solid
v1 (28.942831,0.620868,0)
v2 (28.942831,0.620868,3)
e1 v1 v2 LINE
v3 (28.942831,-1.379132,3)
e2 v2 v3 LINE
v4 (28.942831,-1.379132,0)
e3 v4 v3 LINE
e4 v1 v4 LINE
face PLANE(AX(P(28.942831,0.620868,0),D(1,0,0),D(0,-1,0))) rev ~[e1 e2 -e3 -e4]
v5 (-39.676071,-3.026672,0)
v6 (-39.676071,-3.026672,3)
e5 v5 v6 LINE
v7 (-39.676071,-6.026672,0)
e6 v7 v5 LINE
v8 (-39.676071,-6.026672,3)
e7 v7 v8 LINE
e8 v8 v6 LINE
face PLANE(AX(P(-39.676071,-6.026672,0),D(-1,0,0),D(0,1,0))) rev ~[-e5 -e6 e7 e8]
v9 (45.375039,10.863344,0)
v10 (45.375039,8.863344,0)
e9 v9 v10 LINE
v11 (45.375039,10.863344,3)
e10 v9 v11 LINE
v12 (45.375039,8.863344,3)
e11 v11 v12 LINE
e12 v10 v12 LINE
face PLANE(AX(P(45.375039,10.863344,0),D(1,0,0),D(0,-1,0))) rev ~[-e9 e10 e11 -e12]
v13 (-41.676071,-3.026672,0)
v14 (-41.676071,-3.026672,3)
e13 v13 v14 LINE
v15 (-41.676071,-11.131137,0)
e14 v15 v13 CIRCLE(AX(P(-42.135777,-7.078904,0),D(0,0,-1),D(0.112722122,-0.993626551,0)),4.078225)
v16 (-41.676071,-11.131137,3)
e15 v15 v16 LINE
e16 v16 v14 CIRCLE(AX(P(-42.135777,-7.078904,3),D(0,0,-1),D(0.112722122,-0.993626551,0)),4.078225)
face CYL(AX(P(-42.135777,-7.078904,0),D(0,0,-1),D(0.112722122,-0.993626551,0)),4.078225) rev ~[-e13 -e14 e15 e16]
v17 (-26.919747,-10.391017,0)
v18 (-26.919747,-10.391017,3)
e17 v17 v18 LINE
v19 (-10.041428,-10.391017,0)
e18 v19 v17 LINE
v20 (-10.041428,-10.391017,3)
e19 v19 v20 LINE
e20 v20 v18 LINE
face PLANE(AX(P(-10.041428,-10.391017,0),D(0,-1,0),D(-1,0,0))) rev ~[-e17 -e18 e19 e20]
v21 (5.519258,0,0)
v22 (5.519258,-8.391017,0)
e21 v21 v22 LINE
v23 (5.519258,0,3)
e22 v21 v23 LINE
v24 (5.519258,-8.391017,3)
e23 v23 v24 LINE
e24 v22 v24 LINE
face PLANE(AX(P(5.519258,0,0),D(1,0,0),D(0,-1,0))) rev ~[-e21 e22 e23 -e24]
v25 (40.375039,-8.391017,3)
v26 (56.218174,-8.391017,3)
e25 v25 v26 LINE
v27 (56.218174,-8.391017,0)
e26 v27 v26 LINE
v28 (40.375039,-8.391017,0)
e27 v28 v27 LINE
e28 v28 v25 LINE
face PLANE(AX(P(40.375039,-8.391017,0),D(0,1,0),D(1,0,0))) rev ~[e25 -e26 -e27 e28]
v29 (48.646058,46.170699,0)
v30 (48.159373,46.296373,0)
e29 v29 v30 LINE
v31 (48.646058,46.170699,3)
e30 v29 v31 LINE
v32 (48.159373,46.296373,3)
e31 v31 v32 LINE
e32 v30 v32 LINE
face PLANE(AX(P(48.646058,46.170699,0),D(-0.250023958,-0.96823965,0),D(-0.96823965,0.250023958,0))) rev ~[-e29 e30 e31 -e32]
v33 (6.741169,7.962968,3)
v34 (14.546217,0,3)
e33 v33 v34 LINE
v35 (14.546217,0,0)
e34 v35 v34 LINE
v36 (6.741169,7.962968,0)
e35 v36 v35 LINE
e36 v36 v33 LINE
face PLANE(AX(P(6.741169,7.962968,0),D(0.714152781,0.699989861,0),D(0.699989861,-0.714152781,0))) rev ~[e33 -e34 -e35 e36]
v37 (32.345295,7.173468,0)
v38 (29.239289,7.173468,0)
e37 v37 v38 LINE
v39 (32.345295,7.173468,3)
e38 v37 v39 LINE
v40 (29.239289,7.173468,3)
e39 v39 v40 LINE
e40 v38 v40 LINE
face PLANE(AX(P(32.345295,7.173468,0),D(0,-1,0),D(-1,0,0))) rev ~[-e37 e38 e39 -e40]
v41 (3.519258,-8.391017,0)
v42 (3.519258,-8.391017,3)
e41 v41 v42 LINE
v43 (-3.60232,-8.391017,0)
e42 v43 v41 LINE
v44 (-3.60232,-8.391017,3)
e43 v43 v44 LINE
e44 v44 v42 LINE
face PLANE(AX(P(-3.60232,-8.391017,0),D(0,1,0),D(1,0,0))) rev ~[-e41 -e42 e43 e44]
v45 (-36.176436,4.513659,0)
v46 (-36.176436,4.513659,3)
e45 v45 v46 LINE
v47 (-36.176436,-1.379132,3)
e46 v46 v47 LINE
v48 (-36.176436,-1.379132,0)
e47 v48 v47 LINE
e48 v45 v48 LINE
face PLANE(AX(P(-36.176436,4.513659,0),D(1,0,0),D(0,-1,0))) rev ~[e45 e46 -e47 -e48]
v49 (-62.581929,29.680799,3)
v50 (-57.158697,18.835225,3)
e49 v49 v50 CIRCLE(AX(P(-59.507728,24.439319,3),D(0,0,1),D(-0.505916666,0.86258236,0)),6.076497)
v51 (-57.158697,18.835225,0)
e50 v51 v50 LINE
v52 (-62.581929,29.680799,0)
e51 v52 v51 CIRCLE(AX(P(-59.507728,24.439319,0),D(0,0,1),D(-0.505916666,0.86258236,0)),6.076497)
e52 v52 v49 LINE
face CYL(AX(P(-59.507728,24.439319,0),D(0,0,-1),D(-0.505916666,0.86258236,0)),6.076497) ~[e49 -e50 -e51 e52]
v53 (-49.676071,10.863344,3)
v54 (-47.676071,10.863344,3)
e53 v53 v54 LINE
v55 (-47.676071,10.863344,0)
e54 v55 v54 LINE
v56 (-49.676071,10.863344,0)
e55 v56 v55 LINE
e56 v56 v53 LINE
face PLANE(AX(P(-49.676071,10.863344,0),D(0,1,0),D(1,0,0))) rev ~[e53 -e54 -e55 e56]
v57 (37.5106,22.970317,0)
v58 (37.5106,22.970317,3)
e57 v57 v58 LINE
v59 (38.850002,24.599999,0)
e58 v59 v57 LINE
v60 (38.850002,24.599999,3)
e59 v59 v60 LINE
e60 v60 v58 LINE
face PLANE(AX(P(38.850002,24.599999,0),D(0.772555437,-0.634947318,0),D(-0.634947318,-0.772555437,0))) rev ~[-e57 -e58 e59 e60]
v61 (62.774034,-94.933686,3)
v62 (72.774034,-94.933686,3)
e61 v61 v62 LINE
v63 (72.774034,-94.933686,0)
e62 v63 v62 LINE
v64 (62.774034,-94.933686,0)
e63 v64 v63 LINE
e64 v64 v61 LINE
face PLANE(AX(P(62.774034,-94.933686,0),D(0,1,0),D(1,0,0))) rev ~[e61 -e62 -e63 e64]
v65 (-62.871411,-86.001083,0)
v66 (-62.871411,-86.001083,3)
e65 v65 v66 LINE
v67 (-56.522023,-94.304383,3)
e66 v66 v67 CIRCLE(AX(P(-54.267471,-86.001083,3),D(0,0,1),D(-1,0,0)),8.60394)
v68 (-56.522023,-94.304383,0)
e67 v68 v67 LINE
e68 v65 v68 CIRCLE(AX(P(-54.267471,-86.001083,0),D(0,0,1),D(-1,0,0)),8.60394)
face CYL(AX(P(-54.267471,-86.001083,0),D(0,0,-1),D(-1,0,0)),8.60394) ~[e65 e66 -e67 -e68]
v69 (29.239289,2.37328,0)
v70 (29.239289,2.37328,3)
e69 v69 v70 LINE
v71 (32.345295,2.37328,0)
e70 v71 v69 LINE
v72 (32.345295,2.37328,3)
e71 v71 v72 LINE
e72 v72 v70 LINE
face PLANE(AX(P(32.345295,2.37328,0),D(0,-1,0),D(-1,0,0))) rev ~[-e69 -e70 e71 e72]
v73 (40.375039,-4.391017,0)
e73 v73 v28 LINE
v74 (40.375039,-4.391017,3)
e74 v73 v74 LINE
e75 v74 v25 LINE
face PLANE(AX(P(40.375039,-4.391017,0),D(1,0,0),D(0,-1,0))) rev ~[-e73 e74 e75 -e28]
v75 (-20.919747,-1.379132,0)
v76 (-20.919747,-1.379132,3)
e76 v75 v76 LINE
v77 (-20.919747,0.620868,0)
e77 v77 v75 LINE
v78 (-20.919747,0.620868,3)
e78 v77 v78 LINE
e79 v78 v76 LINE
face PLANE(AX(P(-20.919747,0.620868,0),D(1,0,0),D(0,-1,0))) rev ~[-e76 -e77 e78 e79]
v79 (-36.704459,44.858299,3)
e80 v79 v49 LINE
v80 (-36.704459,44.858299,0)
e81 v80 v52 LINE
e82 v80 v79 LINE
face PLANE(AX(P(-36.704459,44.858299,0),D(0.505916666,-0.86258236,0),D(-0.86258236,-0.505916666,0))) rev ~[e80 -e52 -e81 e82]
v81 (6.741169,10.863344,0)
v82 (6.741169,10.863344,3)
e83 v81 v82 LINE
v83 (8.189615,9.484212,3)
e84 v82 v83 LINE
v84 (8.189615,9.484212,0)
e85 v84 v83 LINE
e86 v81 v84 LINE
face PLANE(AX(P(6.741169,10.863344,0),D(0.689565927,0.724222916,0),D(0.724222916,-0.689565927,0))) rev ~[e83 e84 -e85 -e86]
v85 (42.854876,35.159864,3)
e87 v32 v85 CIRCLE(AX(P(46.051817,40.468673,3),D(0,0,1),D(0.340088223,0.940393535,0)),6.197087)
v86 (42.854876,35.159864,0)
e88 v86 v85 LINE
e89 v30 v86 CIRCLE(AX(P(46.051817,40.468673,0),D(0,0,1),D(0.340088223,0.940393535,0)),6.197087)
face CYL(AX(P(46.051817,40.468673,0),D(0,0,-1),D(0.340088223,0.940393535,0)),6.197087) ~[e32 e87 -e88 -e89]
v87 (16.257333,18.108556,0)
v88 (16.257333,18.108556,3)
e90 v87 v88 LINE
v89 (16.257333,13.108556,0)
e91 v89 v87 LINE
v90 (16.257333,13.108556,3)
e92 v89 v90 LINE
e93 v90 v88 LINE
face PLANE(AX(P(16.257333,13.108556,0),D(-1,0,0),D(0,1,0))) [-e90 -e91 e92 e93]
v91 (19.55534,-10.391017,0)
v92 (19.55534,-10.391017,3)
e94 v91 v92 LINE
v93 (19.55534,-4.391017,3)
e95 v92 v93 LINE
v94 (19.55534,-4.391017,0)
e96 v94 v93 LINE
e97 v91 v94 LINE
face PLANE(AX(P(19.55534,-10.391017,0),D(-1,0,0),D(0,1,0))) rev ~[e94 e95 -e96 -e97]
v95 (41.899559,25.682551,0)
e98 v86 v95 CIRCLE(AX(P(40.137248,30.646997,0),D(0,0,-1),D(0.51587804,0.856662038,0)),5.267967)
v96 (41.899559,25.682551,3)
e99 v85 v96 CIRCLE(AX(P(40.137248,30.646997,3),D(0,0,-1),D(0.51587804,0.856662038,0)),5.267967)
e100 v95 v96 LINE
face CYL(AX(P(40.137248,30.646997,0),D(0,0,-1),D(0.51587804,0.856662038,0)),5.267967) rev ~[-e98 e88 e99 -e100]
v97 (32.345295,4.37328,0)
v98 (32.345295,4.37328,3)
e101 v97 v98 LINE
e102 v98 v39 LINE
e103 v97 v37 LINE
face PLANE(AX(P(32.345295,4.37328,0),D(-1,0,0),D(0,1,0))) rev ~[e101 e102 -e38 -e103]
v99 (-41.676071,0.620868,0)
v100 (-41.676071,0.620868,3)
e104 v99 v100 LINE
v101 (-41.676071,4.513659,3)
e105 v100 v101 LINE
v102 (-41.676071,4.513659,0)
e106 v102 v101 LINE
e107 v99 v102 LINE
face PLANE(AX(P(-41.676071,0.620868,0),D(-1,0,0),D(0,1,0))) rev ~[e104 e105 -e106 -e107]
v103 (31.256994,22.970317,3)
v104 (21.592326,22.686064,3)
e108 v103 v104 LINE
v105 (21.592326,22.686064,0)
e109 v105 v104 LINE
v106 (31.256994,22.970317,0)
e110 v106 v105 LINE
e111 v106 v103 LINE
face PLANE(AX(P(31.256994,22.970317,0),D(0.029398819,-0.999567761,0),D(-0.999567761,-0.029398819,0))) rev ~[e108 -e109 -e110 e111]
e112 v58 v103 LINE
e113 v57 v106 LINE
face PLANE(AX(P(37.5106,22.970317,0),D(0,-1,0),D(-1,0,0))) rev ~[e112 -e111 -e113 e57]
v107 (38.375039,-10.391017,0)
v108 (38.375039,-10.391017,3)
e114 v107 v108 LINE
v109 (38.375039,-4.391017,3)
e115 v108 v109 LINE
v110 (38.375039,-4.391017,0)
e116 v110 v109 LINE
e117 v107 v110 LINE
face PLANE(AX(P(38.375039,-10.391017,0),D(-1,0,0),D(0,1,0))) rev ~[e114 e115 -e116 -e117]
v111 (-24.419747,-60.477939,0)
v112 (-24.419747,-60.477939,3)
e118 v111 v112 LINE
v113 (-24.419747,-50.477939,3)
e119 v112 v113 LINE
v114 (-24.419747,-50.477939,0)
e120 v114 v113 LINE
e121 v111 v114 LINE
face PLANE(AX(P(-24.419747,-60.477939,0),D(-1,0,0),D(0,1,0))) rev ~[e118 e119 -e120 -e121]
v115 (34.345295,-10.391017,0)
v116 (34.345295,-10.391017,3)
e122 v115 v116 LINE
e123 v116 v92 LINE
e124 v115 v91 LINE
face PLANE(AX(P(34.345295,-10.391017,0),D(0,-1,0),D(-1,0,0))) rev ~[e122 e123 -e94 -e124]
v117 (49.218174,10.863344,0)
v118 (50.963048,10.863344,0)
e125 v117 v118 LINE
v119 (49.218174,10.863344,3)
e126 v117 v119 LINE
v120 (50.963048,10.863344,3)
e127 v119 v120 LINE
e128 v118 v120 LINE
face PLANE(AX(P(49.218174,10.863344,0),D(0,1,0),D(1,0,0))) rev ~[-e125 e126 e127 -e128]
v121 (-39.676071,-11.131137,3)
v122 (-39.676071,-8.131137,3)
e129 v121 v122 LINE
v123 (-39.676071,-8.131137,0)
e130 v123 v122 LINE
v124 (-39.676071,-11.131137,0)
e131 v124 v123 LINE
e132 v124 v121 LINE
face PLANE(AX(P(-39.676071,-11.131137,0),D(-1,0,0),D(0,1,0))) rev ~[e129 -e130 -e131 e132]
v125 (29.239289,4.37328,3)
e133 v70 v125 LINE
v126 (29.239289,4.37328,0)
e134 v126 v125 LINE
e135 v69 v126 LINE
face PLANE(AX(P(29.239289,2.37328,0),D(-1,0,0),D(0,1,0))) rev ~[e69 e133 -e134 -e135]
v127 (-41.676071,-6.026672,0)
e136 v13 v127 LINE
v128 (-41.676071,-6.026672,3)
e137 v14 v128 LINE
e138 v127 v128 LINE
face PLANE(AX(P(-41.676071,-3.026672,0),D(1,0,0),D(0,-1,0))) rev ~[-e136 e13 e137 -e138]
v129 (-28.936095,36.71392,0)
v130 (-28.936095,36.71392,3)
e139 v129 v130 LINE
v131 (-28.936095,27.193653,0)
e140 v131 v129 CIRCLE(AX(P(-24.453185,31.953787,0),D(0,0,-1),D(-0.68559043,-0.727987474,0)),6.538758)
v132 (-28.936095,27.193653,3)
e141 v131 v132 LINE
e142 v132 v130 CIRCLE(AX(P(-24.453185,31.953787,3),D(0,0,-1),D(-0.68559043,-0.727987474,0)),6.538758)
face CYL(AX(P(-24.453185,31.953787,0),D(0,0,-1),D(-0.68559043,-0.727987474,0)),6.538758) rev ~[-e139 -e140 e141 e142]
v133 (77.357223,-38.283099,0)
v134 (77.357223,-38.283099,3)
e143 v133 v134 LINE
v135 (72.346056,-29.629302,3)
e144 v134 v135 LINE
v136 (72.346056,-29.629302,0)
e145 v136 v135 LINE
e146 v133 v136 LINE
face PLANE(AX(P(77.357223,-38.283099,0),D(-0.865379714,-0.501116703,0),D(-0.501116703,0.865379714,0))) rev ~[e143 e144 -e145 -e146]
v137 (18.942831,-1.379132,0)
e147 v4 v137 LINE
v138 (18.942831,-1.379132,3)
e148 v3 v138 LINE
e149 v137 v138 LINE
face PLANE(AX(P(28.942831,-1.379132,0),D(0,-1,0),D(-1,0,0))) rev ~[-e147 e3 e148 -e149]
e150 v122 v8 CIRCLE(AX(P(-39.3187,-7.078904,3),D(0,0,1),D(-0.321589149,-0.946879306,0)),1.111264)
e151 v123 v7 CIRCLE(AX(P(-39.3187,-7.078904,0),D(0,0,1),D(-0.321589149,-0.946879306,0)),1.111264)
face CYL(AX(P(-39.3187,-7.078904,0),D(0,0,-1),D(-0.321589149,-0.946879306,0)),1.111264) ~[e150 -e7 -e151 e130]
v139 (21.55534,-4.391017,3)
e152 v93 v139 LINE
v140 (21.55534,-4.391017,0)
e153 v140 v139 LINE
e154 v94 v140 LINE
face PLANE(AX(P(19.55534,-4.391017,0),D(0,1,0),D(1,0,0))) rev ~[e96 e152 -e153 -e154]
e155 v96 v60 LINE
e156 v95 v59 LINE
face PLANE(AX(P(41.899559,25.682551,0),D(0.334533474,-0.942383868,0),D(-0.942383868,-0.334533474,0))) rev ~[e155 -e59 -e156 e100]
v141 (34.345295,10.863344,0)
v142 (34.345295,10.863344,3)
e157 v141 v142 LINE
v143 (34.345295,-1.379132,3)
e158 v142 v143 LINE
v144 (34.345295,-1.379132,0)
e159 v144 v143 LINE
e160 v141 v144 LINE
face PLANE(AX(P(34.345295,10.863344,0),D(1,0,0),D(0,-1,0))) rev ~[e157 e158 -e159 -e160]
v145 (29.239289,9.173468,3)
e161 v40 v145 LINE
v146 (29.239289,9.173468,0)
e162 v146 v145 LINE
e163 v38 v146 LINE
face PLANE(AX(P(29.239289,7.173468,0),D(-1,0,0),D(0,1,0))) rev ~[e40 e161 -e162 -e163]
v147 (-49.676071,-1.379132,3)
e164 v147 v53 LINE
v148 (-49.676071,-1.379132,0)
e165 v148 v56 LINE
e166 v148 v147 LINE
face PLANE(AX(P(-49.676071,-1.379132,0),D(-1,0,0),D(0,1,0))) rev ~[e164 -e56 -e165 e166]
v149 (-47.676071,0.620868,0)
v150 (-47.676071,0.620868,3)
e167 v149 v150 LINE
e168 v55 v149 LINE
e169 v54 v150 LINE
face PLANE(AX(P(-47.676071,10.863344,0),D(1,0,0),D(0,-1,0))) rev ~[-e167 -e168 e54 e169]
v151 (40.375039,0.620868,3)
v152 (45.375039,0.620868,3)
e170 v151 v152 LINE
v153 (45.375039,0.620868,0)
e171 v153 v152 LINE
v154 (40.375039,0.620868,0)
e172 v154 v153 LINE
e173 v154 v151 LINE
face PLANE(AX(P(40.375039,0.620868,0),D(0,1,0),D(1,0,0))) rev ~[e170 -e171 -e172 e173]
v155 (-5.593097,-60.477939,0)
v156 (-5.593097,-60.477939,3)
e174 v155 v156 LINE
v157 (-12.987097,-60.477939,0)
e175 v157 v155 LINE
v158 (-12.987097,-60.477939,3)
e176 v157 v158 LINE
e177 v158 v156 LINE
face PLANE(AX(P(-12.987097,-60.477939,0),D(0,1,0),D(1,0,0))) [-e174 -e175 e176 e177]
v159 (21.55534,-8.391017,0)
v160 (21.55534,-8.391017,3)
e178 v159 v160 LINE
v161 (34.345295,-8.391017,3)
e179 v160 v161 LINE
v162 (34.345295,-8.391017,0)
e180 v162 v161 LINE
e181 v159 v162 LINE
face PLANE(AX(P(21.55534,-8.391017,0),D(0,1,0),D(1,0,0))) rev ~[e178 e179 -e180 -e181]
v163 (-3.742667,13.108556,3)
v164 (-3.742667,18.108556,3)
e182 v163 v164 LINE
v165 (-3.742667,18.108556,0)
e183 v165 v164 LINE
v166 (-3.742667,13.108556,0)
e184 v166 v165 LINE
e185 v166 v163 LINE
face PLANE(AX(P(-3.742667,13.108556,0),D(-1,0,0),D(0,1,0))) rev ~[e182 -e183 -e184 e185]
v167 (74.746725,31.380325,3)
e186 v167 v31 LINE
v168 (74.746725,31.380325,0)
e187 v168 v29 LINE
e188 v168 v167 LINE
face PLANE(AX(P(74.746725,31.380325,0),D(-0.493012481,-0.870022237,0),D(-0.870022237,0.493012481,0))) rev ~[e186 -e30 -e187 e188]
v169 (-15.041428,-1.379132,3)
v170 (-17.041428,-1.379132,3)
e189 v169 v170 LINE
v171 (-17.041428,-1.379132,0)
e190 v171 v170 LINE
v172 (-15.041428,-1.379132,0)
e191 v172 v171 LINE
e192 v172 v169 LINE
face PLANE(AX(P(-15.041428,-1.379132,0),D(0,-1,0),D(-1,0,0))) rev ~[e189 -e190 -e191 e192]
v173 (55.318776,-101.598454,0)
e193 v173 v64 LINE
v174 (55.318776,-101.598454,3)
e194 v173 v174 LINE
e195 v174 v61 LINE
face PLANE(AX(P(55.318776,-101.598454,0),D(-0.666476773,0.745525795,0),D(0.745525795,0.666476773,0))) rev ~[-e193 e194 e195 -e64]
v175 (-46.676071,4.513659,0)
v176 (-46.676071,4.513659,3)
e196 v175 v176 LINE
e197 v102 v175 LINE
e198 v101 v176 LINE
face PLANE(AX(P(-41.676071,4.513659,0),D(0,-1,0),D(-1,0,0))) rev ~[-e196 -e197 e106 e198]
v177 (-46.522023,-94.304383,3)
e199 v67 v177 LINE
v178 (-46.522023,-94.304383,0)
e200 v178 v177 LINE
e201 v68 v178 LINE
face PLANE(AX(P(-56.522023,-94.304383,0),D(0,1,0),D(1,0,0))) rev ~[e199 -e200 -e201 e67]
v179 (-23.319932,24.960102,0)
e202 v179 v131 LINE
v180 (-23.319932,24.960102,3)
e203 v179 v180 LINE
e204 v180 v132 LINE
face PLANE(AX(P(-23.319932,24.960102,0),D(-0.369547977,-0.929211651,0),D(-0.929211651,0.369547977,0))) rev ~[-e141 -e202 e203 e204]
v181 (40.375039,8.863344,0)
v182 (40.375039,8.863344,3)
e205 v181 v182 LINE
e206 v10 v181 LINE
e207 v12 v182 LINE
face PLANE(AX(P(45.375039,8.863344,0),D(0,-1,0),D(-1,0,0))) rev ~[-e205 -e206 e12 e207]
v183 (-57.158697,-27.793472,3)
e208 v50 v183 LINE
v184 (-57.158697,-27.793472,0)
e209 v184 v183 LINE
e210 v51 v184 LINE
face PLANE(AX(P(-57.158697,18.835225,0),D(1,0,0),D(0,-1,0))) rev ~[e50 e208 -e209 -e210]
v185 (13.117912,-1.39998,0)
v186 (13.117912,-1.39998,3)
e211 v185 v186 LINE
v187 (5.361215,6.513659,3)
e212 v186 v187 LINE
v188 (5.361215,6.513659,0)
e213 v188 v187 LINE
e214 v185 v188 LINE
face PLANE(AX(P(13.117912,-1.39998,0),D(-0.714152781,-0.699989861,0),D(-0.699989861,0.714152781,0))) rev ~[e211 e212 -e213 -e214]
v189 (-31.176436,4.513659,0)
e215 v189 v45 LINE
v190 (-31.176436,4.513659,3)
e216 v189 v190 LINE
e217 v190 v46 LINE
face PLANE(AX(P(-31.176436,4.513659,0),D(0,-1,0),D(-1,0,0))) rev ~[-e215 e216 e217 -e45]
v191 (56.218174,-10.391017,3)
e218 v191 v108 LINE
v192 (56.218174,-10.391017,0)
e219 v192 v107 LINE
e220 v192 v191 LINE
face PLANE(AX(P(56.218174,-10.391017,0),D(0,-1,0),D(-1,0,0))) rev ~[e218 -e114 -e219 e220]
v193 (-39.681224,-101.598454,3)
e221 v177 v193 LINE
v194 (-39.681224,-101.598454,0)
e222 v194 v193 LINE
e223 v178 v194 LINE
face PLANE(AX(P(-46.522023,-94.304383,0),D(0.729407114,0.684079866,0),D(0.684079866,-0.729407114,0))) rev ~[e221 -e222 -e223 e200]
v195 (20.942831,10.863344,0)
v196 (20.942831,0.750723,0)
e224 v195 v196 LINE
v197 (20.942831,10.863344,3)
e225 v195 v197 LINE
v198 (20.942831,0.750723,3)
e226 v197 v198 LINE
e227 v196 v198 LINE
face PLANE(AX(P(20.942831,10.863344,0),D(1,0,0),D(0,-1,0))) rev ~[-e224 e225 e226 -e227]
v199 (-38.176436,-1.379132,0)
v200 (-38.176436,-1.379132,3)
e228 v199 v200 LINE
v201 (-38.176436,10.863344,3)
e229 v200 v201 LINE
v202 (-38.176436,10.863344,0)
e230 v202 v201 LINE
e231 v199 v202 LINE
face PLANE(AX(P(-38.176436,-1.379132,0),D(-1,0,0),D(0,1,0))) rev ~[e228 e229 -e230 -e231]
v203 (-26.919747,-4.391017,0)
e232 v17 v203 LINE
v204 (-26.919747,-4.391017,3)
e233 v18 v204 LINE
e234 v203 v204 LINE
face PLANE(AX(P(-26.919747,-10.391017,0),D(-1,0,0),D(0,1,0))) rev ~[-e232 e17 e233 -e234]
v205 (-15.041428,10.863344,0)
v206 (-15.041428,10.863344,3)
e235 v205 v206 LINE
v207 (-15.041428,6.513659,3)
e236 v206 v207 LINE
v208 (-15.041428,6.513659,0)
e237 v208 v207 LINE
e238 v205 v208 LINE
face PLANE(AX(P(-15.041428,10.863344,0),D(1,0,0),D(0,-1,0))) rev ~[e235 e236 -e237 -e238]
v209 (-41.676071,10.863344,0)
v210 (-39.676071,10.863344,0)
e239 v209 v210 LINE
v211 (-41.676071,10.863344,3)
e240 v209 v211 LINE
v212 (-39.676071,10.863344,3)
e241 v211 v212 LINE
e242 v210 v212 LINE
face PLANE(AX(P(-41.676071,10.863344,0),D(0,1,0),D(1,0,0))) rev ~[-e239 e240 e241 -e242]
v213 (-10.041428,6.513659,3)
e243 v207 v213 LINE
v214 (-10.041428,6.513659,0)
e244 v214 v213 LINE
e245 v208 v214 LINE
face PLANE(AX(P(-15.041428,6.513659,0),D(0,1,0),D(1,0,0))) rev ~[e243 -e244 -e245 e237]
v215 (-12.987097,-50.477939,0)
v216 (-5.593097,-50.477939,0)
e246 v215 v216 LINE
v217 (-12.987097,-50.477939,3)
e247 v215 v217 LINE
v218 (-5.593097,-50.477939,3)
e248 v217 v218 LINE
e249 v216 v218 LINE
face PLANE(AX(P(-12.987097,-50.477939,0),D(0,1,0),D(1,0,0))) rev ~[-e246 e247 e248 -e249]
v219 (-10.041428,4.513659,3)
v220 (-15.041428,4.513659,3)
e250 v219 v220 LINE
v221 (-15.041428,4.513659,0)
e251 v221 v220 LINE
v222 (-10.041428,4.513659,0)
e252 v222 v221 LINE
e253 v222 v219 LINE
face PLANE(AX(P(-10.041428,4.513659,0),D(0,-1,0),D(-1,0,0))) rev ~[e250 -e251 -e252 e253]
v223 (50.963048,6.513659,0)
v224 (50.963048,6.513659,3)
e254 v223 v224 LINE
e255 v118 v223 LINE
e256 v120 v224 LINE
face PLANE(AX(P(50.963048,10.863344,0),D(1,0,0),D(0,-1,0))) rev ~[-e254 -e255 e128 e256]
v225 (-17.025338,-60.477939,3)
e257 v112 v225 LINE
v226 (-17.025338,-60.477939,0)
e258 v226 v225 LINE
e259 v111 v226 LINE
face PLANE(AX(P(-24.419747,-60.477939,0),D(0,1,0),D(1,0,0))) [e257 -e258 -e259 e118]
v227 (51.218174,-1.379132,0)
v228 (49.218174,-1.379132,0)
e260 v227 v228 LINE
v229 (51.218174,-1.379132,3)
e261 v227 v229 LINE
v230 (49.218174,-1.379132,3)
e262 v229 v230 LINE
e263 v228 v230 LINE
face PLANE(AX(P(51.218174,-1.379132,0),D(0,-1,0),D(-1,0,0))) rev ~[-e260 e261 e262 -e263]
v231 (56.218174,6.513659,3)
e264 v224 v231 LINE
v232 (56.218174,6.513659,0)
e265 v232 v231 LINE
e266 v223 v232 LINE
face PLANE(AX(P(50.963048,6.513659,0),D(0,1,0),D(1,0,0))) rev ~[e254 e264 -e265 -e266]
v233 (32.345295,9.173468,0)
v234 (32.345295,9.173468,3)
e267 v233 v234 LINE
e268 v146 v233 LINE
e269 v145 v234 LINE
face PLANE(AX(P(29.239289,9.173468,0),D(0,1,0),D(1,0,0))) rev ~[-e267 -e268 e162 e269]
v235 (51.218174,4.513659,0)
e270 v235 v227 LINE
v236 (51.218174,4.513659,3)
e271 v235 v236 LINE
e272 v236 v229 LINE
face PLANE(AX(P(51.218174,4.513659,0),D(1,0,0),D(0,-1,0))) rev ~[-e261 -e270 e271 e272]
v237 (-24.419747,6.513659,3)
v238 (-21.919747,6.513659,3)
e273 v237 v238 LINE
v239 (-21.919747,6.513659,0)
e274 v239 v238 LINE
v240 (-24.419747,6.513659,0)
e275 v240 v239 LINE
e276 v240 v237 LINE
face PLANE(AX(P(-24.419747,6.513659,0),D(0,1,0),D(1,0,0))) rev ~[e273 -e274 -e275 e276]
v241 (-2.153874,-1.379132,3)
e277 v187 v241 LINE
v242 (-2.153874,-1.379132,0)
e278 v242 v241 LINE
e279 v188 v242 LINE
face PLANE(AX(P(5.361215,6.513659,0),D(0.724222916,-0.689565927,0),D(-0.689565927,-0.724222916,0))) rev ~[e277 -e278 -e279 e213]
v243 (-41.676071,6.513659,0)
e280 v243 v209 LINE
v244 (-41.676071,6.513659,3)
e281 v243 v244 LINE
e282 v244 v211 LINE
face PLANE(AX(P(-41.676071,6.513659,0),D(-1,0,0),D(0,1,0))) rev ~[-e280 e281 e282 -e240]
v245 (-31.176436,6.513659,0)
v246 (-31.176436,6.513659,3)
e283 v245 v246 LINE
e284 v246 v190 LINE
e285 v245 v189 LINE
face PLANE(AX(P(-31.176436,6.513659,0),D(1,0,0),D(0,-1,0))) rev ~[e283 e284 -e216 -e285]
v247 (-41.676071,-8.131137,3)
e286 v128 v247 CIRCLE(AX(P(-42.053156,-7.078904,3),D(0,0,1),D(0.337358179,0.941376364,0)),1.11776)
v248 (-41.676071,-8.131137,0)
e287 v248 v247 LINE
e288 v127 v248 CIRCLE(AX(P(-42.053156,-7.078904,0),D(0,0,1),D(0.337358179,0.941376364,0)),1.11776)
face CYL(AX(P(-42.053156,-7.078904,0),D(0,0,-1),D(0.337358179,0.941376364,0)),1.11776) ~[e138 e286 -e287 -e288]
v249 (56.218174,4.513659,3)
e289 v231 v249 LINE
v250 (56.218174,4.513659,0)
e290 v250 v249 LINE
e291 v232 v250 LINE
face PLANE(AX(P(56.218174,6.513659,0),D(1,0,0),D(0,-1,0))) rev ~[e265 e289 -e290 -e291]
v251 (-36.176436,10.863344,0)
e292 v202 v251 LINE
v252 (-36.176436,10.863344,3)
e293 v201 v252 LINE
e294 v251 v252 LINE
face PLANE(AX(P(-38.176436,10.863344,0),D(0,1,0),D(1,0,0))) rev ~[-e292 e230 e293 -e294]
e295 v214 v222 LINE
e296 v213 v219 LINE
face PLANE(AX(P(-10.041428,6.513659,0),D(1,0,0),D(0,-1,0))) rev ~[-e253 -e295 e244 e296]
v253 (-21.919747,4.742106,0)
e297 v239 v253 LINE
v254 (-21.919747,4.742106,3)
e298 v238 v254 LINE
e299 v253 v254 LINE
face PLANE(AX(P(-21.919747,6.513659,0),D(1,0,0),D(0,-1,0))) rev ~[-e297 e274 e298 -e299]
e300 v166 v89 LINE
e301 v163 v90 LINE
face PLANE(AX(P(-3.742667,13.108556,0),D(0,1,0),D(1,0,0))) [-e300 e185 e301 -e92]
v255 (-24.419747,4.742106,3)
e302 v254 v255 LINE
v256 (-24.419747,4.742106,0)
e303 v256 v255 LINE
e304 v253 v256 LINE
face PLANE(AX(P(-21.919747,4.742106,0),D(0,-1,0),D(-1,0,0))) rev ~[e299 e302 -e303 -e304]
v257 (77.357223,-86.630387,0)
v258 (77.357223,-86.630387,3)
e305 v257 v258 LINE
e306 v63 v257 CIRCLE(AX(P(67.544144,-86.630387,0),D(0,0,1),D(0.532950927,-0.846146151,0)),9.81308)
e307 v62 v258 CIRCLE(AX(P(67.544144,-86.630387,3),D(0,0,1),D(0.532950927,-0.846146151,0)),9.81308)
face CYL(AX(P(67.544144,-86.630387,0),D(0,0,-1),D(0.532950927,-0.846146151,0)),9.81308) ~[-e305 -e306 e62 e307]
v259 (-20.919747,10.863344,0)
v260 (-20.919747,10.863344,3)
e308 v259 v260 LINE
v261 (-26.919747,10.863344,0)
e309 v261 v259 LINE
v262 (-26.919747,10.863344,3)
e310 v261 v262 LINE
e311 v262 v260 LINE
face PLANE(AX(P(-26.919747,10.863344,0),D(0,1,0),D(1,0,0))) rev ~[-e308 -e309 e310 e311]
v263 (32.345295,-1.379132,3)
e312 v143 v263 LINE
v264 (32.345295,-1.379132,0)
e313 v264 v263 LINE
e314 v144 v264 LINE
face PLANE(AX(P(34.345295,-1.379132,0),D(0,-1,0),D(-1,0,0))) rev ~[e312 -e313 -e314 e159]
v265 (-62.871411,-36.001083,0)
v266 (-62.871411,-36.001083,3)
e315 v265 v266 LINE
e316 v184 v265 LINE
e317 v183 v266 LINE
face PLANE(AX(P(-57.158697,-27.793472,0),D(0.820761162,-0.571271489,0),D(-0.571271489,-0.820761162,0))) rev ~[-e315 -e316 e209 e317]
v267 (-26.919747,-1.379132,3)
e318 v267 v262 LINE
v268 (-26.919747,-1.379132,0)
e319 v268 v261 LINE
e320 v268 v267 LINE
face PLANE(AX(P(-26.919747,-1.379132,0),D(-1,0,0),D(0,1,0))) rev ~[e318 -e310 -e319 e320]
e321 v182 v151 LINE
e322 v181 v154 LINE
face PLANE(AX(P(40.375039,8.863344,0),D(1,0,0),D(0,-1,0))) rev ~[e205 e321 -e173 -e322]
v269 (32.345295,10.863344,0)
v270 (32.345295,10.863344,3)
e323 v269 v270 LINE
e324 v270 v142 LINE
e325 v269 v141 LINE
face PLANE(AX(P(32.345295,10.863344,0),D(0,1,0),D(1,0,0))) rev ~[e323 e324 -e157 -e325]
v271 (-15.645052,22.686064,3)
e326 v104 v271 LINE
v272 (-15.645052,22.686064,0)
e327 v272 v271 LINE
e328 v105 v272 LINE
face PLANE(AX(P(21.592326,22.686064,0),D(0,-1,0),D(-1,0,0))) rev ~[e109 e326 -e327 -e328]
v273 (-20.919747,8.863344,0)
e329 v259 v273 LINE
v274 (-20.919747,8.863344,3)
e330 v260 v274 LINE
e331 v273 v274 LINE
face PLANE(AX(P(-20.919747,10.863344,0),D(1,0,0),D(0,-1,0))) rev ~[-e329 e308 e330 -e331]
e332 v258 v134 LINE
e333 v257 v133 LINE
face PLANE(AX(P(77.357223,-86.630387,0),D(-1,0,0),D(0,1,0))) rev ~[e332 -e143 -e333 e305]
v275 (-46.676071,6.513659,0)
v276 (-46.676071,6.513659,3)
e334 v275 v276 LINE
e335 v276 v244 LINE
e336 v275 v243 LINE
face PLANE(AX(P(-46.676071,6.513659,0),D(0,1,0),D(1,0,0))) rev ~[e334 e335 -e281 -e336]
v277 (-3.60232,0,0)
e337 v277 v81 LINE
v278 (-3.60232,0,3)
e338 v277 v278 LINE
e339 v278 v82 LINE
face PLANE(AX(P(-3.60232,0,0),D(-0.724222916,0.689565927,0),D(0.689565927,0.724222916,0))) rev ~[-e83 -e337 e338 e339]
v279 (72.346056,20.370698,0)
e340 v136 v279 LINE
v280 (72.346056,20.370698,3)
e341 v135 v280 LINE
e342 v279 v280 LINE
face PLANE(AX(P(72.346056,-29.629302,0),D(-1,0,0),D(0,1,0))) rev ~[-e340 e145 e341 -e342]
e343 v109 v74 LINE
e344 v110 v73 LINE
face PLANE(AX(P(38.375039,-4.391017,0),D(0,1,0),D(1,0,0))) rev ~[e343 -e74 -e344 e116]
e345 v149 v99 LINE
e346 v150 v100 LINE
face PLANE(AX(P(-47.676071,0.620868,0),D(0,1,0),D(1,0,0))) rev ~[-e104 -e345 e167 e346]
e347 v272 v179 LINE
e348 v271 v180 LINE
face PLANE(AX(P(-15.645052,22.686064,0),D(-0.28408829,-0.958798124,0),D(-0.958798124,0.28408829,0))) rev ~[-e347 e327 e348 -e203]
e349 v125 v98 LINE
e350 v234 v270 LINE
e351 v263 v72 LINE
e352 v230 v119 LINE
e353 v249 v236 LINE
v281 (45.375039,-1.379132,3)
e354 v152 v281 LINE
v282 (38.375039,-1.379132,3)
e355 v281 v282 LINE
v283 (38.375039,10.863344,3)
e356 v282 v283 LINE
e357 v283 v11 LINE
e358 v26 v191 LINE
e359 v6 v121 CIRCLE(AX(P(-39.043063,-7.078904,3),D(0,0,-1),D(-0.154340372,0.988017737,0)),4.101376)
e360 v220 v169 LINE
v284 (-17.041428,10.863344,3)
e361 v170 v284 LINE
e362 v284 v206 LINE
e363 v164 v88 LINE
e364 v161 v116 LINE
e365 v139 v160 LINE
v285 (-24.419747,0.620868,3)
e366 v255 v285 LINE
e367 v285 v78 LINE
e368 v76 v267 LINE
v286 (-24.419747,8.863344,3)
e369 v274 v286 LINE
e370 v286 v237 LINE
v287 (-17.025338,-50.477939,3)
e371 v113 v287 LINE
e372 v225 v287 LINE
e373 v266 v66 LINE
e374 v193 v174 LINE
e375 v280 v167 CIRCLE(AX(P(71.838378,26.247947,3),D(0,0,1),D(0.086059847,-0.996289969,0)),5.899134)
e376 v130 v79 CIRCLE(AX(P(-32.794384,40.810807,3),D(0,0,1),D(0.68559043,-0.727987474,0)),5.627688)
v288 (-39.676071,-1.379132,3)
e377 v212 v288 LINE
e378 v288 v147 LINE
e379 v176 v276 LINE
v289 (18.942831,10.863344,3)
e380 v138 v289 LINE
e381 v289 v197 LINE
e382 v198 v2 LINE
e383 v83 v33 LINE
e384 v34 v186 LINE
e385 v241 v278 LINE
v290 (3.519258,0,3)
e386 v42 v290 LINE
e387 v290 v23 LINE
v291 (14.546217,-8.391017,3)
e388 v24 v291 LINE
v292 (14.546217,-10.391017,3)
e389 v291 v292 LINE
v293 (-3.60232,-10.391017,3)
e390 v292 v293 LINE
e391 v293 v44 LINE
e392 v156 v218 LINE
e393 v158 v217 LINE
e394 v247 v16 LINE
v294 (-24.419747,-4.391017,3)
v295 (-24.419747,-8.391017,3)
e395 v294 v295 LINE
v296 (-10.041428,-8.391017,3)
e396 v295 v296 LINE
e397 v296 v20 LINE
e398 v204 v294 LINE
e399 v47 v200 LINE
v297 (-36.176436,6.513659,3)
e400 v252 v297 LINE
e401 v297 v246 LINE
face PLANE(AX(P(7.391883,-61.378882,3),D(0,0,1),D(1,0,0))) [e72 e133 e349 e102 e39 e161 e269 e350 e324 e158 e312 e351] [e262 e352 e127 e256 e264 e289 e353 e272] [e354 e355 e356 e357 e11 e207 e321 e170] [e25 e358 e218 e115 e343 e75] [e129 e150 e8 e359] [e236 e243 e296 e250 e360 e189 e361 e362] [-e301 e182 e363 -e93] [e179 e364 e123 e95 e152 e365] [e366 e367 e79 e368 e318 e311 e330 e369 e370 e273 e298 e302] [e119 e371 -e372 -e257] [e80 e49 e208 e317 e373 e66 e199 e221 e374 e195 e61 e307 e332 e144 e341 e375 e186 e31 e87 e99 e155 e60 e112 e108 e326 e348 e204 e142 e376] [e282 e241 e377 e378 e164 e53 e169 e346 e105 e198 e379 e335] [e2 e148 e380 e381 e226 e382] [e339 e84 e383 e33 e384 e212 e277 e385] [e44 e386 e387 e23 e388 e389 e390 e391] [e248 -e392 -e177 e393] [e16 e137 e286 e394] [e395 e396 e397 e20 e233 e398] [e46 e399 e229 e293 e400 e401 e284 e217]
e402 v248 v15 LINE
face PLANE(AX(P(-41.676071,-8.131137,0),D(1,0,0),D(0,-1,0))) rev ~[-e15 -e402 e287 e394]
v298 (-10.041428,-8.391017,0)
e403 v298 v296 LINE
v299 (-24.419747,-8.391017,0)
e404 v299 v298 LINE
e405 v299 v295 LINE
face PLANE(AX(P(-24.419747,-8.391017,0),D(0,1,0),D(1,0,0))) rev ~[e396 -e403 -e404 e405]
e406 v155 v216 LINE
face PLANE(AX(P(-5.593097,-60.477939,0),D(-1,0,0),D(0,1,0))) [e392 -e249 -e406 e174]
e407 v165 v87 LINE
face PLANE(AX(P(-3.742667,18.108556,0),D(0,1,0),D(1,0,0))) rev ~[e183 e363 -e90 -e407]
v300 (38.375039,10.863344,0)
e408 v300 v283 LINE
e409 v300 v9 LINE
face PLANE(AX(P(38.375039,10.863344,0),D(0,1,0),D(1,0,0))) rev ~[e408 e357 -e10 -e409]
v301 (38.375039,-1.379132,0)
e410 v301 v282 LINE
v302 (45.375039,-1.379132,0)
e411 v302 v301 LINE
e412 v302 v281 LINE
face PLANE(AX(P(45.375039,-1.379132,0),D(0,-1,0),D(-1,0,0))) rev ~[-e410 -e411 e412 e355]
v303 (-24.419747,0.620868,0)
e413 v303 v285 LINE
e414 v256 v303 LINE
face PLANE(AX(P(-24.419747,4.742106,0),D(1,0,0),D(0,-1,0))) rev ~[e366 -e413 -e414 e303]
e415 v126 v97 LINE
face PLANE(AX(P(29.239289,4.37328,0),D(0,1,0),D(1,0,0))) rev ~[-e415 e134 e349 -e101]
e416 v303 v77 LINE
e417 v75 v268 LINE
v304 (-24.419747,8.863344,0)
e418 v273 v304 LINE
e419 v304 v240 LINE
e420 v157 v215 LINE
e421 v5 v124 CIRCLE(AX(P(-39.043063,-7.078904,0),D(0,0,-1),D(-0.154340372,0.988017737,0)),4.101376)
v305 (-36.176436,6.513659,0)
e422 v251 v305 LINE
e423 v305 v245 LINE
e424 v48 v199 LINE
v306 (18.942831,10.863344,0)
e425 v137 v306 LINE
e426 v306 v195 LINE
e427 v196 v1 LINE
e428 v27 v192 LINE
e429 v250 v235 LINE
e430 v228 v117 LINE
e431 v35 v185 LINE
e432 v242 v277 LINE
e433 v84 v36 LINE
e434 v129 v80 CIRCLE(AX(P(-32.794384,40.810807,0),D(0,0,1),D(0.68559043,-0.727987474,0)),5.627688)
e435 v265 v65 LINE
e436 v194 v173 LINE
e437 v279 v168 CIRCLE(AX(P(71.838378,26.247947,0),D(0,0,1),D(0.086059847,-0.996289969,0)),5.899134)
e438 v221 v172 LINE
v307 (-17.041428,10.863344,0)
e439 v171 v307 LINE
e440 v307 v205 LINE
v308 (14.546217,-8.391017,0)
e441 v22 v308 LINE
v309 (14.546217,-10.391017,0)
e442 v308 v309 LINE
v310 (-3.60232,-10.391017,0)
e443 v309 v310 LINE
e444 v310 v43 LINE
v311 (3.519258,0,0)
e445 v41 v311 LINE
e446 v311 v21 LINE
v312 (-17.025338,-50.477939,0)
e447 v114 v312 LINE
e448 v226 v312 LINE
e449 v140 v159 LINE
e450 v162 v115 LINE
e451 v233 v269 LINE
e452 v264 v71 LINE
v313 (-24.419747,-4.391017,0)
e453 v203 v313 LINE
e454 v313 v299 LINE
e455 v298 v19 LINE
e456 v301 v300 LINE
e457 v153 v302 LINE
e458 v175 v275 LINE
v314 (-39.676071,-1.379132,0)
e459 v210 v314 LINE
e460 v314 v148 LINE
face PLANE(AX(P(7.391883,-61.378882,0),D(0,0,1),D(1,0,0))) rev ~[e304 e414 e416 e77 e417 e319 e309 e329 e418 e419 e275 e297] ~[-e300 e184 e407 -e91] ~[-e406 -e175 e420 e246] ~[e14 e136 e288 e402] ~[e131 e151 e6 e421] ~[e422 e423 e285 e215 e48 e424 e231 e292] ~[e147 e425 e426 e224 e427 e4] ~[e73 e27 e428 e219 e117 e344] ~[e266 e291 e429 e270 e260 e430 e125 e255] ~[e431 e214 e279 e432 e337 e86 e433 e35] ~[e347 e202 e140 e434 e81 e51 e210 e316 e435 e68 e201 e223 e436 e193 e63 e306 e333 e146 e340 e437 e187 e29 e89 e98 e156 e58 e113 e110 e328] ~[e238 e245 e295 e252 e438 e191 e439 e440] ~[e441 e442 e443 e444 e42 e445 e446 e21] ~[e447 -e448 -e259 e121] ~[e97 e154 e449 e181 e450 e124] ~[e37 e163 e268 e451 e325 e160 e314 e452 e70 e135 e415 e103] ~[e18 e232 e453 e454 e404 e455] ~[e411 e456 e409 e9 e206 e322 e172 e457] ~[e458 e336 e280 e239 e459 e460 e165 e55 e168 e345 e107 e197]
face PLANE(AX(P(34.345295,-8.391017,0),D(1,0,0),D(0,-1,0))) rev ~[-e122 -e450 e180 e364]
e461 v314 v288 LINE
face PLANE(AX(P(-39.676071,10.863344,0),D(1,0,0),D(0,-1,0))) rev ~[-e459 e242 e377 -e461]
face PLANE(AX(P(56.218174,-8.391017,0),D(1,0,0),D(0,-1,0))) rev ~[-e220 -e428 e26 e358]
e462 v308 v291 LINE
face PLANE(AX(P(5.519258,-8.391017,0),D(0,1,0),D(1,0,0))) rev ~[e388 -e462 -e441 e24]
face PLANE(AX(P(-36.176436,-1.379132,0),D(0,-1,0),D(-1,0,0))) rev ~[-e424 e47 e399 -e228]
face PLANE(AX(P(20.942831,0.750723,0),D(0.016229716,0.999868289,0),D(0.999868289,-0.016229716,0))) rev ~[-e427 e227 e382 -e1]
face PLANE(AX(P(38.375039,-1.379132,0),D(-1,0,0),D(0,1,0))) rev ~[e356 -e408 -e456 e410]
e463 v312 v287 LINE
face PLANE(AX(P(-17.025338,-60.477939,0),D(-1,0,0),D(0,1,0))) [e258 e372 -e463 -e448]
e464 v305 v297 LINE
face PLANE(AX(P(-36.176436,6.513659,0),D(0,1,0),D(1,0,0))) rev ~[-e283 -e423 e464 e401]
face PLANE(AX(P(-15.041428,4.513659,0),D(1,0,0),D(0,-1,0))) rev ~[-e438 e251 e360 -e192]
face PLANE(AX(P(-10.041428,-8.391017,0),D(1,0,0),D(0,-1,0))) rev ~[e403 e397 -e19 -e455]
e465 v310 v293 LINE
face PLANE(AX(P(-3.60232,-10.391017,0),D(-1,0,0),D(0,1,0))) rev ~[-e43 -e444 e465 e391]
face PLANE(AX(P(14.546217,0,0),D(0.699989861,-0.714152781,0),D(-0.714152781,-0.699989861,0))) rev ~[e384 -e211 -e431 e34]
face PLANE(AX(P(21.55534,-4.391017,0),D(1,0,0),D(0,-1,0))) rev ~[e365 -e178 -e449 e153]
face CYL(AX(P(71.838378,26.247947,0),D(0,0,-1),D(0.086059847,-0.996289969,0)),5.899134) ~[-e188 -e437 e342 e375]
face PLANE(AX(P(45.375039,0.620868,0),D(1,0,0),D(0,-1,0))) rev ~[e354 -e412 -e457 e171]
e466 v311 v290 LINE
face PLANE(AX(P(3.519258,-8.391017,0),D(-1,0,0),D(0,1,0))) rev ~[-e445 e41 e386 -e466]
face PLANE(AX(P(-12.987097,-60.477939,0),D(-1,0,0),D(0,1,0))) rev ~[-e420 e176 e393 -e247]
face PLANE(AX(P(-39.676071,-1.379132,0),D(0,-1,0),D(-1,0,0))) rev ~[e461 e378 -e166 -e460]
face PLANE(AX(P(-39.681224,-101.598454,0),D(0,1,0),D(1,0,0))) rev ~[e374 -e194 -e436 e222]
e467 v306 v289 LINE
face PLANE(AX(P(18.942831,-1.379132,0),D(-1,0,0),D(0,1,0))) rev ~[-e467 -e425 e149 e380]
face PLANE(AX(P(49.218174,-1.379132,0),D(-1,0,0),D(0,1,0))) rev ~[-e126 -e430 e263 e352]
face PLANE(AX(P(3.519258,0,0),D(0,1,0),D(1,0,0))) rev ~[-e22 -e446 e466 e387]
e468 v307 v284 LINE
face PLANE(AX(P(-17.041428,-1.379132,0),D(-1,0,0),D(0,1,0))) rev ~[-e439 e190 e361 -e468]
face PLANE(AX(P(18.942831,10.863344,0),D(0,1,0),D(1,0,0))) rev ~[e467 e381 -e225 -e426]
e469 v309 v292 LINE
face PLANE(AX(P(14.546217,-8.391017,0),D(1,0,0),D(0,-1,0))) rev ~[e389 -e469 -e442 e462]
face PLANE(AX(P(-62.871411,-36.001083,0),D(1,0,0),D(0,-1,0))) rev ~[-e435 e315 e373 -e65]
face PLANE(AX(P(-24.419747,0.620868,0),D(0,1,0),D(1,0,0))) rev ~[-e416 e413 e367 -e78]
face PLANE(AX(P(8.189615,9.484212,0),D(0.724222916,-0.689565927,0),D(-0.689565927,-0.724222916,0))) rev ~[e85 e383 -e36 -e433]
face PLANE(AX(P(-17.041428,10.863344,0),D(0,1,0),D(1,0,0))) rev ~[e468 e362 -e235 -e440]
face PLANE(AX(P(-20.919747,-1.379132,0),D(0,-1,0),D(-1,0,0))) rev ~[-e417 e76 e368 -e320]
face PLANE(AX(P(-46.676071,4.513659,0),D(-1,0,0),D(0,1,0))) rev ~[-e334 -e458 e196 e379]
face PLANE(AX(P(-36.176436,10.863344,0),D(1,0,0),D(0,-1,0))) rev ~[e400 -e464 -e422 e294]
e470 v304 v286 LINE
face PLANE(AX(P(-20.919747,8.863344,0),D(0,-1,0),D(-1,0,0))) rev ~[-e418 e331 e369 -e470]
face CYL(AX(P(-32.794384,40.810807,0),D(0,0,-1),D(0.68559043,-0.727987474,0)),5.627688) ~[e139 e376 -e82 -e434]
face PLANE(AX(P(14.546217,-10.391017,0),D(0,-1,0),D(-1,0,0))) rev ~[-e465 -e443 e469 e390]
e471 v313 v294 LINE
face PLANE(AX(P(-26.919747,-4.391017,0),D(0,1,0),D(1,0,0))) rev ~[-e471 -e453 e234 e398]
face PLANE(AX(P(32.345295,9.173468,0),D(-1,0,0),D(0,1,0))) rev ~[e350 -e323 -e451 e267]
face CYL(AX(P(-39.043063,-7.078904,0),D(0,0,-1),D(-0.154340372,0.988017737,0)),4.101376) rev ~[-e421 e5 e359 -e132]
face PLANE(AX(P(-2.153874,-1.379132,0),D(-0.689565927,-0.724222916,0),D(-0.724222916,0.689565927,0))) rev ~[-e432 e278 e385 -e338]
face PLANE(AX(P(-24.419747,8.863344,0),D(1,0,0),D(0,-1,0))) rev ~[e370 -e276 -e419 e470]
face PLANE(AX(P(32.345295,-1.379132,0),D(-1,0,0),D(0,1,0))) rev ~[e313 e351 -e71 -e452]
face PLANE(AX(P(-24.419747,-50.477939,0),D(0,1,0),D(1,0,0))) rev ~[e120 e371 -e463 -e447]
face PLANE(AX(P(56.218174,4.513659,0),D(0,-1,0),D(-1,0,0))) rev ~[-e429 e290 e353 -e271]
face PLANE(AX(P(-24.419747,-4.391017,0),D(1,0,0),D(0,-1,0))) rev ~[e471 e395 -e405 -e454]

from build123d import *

# Parameters (mm, degrees)
F0_W     = 7.3944082856
F0_H     = 10
F0_W_2   = 7.394
F0_W_3   = 20
F0_H_2   = 5
F0_W_4   = 12.9295032024
F0_H_3   = 4
F0_W_5   = 4
F0_H_4   = 2
F1_DEPTH = 3


with BuildPart() as f1:
    # F0 (on Top) → F1 (new body)
    with BuildSketch(Plane.XY):
        with BuildLine():
            Line((72.3460563783, -23.3392287046), (-57.1586965515, -23.3392287046))
            Line((-57.1586965515, -23.3392287046), (-57.1586965515, -27.7934716308))
            Line((-57.1586965515, -27.7934716308), (-62.8714114428, -36.0010832548))
            Line((-62.8714114428, -36.0010832548), (-62.8714114428, -86.0010832548))
            ThreePointArc((-62.8714114428, -86.0010832548), (-61.102155393, -91.2274471391), (-56.5220229328, -94.3043828011))
            Line((-56.5220229328, -94.3043828011), (-46.5220229328, -94.3043828011))
            Line((-46.5220229328, -94.3043828011), (-39.6812242775, -101.5984539385))
            Line((-39.6812242775, -101.5984539385), (55.3187757225, -101.5984539385))
            Line((55.3187757225, -101.5984539385), (62.774033672, -94.9336862077))
            Line((62.774033672, -94.9336862077), (72.774033672, -94.9336862077))
            ThreePointArc((72.774033672, -94.9336862077), (76.135356085, -91.3724962002), (77.3572234082, -86.6303866614))
            Line((77.3572234082, -86.6303866614), (77.3572234082, -38.2830989705))
            Line((77.3572234082, -38.2830989705), (72.3460563783, -29.6293018271))
            Line((72.3460563783, -29.6293018271), (72.3460563783, -23.3392287046))
        make_face()
        Polygon((-33.379150033, -48.477938503), (-33.379150033, -46.477938503), (-34.9630750716, -46.477938503), (-34.9630750716, -50.477938503), (-33.379150033, -50.477938503), (-33.379150033, -60.477938503), (-34.9630750716, -60.477938503), (-34.9630750716, -64.477938503), (-33.379150033, -64.477938503), (-33.379150033, -66.477938503), (-49.892578274, -66.477938503), (-49.892578274, -64.477938503), (-47.892578274, -64.477938503), (-47.892578274, -60.477938503), (-49.892578274, -60.477938503), (-49.892578274, -50.477938503), (-47.892578274, -50.477938503), (-47.892578274, -46.477938503), (-49.892578274, -46.477938503), (-49.892578274, -44.477938503), (-45.951873064, -44.477938503), (-45.951873064, -42.477938503), (-47.4065802991, -42.477938503), (-47.4065802991, -40.477938503), (-34.9630750716, -40.477938503), (-31.379150033, -44.477938503), (-31.379150033, -48.477938503), align=None, mode=Mode.SUBTRACT)
        with Locations((-20.7225426286, -55.477938503)):
            Rectangle(F0_W, F0_H, mode=Mode.SUBTRACT)
        with Locations((-9.2900967939, -55.477938503)):
            Rectangle(F0_W_2, F0_H, mode=Mode.SUBTRACT)
        with BuildLine():
            Line((23.9428310841, -64.477938503), (23.9428310841, -36.0010832548))
            Line((23.9428310841, -36.0010832548), (33.941513979, -36.163380414))
            Line((33.941513979, -36.163380414), (33.941513979, -64.477938503))
            ThreePointArc((33.941513979, -64.477938503), (28.9421725316, -69.4772799505), (23.9428310841, -64.477938503))
        make_face(mode=Mode.SUBTRACT)
        with BuildLine():
            Line((38.3750386536, -64.477938503), (38.3750386536, -36.163380414))
            Line((38.3750386536, -36.163380414), (48.3750386536, -36.163380414))
            Line((48.3750386536, -36.163380414), (48.3750386536, -64.477938503))
            ThreePointArc((48.3750386536, -64.477938503), (43.3750386536, -69.477938503), (38.3750386536, -64.477938503))
        make_face(mode=Mode.SUBTRACT)
        with BuildLine():
            ThreePointArc((-28.9360948412, 27.1936530951), (-30.9919428027, 31.9537867139), (-28.9360948412, 36.7139203326))
            ThreePointArc((-28.9360948412, 36.7139203326), (-28.7221124747, 44.6950672996), (-36.7044586735, 44.8582988061))
            Line((-36.7044586735, 44.8582988061), (-62.5819294645, 29.6807988322))
            ThreePointArc((-62.5819294645, 29.6807988322), (-64.9426232399, 21.7216482709), (-57.1586965515, 18.8352252132))
            Line((-57.1586965515, 18.8352252132), (-57.1586965515, 13.1085557863))
            Line((-57.1586965515, 13.1085557863), (-57.1586965515, -11.8914442137))
            Line((-57.1586965515, -11.8914442137), (-57.1586965515, -23.3392287046))
            Line((-57.1586965515, -23.3392287046), (72.3460563783, -23.3392287046))
            Line((72.3460563783, -23.3392287046), (72.3460563783, 20.3706981729))
            ThreePointArc((72.3460563783, 20.3706981729), (77.602081112, 24.9911609789), (74.7467246428, 31.3803246156))
            Line((74.7467246428, 31.3803246156), (48.6460575227, 46.1706990491))
            Line((48.6460575227, 46.1706990491), (48.1593732874, 46.2963732235))
            ThreePointArc((48.1593732874, 46.2963732235), (40.4569849003, 43.1335810056), (42.8548762559, 35.1598642733))
            ThreePointArc((42.8548762559, 35.1598642733), (45.3786536259, 30.1186614419), (41.8995591407, 25.6825505592))
            Line((41.8995591407, 25.6825505592), (38.8500019908, 24.5999991894))
            Line((38.8500019908, 24.5999991894), (37.5105995638, 22.970316542))
            Line((37.5105995638, 22.970316542), (31.2569938554, 22.970316542))
            Line((31.2569938554, 22.970316542), (21.5923260851, 22.6860638537))
            Line((21.5923260851, 22.6860638537), (-9.1071914928, 22.6860638537))
            Line((-9.1071914928, 22.6860638537), (-15.6450517522, 22.6860638537))
            Line((-15.6450517522, 22.6860638537), (-23.319932078, 24.9601021238))
            Line((-23.319932078, 24.9601021238), (-28.9360948412, 27.1936530951))
        make_face()
        with BuildLine():
            ThreePointArc((-41.6760705411, -11.1311366782), (-46.2140015275, -7.0789042059), (-41.6760705411, -3.0266717337))
            Line((-41.6760705411, -3.0266717337), (-41.6760705411, -6.0266717337))
            ThreePointArc((-41.6760705411, -6.0266717337), (-43.1709154899, -7.0789042059), (-41.6760705411, -8.1311366782))
            Line((-41.6760705411, -8.1311366782), (-41.6760705411, -11.1311366782))
        make_face(mode=Mode.SUBTRACT)
        with BuildLine():
            Line((-39.6760705411, -6.0266717337), (-39.6760705411, -3.0266717337))
            ThreePointArc((-39.6760705411, -3.0266717337), (-34.941686368, -7.0789042059), (-39.6760705411, -11.1311366782))
            Line((-39.6760705411, -11.1311366782), (-39.6760705411, -8.1311366782))
            ThreePointArc((-39.6760705411, -8.1311366782), (-38.2074366729, -7.0789042059), (-39.6760705411, -6.0266717337))
        make_face(mode=Mode.SUBTRACT)
        Polygon((-41.6760705411, 10.8633437433), (-39.6760705411, 10.8633437433), (-39.6760705411, -1.3791318539), (-49.6760705411, -1.3791318539), (-49.6760705411, 10.8633437433), (-47.6760705411, 10.8633437433), (-47.6760705411, 0.6208681461), (-41.6760705411, 0.6208681461), (-41.6760705411, 4.5136589747), (-46.6760705411, 4.5136589747), (-46.6760705411, 6.5136589747), (-41.6760705411, 6.5136589747), align=None, mode=Mode.SUBTRACT)
        Polygon((-38.1764359772, 10.8633437433), (-36.1764359772, 10.8633437433), (-36.1764359772, 6.5136589747), (-31.1764359772, 6.5136589747), (-31.1764359772, 4.5136589747), (-33.379150033, 4.5136589747), (-36.1764359772, 4.5136589747), (-36.1764359772, -1.3791318539), (-38.1764359772, -1.3791318539), align=None, mode=Mode.SUBTRACT)
        Polygon((-10.0414280146, -10.3910174221), (-26.9197467715, -10.3910174221), (-26.9197467715, -4.3910174221), (-24.4197467715, -4.3910174221), (-24.4197467715, -8.3910174221), (-10.0414280146, -8.3910174221), align=None, mode=Mode.SUBTRACT)
        Polygon((-26.9197467715, 10.8633437433), (-20.9197467715, 10.8633437433), (-20.9197467715, 8.8633437433), (-24.4197467715, 8.8633437433), (-24.4197467715, 6.5136589747), (-21.9197467715, 6.5136589747), (-21.9197467715, 4.7421059447), (-24.4197467715, 4.7421059447), (-24.4197467715, 0.6208681461), (-20.9197467715, 0.6208681461), (-20.9197467715, -1.3791318539), (-26.9197467715, -1.3791318539), align=None, mode=Mode.SUBTRACT)
        Polygon((-17.0414280146, 10.8633437433), (-15.0414280146, 10.8633437433), (-15.0414280146, 6.5136589747), (-10.0414280146, 6.5136589747), (-10.0414280146, 4.5136589747), (-15.0414280146, 4.5136589747), (-15.0414280146, -1.3791318539), (-17.0414280146, -1.3791318539), align=None, mode=Mode.SUBTRACT)
        Polygon((-3.6023200955, -8.3910174221), (2.8300732374, -8.3910174221), (3.5192577634, -8.3910174221), (3.5192577634, 0), (5.5192577634, 0), (5.5192577634, -8.3910174221), (14.5462173969, -8.3910174221), (14.5462173969, -10.3910174221), (-3.6023200955, -10.3910174221), align=None, mode=Mode.SUBTRACT)
        Polygon((-3.6023200955, 0), (6.7411688089, 10.8633437433), (8.1896146413, 9.4842118894), (6.7411688089, 7.9629684176), (14.5462173969, 0), (13.1179118348, -1.3999797218), (5.3612146718, 6.5136589747), (-2.1538742631, -1.3791318539), align=None, mode=Mode.SUBTRACT)
        Polygon((18.9428310841, -1.3791318539), (18.9428310841, 10.8633437433), (20.9428310841, 10.8633437433), (20.9428310841, 0.7507229767), (28.9428310841, 0.6208681461), (28.9428310841, -1.3791318539), align=None, mode=Mode.SUBTRACT)
        Polygon((19.5553395897, -10.3910174221), (19.5553395897, -4.3910174221), (21.5553395897, -4.3910174221), (21.5553395897, -8.3910174221), (34.3452949524, -8.3910174221), (34.3452949524, -10.3910174221), align=None, mode=Mode.SUBTRACT)
        Polygon((32.3452949524, 10.8633437433), (34.3452949524, 10.8633437433), (34.3452949524, -1.3791318539), (32.3452949524, -1.3791318539), (32.3452949524, 2.3732802365), (29.2392894626, 2.3732802365), (29.2392894626, 4.3732802365), (32.3452949524, 4.3732802365), (32.3452949524, 7.1734678932), (29.2392894626, 7.1734678932), (29.2392894626, 9.1734678932), (32.3452949524, 9.1734678932), align=None, mode=Mode.SUBTRACT)
        Polygon((38.3750386536, -1.3791318539), (38.3750386536, 10.8633437433), (45.3750386536, 10.8633437433), (45.3750386536, 8.8633437433), (40.3750386536, 8.8633437433), (40.3750386536, 0.6208681461), (45.3750386536, 0.6208681461), (45.3750386536, -1.3791318539), align=None, mode=Mode.SUBTRACT)
        Polygon((38.3750386536, -10.3910174221), (38.3750386536, -4.3910174221), (40.3750386536, -4.3910174221), (40.3750386536, -8.3910174221), (56.2181740701, -8.3910174221), (56.2181740701, -10.3910174221), align=None, mode=Mode.SUBTRACT)
        Polygon((49.2181740701, -1.3791318539), (49.2181740701, 10.8633437433), (50.9630478919, 10.8633437433), (50.9630478919, 6.5136589747), (56.2181740701, 6.5136589747), (56.2181740701, 4.5136589747), (51.2181740701, 4.5136589747), (51.2181740701, -1.3791318539), align=None, mode=Mode.SUBTRACT)
        with Locations((6.2573329513, 15.6085557863)):
            Rectangle(F0_W_3, F0_H_2, mode=Mode.SUBTRACT)
        with BuildLine():
            Line((33.941513979, -36.163380414), (23.9428310841, -36.0010832548))
            Line((23.9428310841, -36.0010832548), (23.9428310841, -64.477938503))
            ThreePointArc((23.9428310841, -64.477938503), (28.9421725316, -69.4772799505), (33.941513979, -64.477938503))
            Line((33.941513979, -64.477938503), (33.941513979, -36.163380414))
        make_face()
        with BuildLine():
            Line((48.3750386536, -36.163380414), (38.3750386536, -36.163380414))
            Line((38.3750386536, -36.163380414), (38.3750386536, -64.477938503))
            ThreePointArc((38.3750386536, -64.477938503), (43.3750386536, -69.477938503), (48.3750386536, -64.477938503))
            Line((48.3750386536, -64.477938503), (48.3750386536, -36.163380414))
        make_face()
        Polygon((-33.379150033, -50.477938503), (-34.9630750716, -50.477938503), (-47.892578274, -50.477938503), (-49.892578274, -50.477938503), (-49.892578274, -60.477938503), (-47.892578274, -60.477938503), (-34.9630750716, -60.477938503), (-33.379150033, -60.477938503), align=None)
        with Locations((-41.4278266728, -48.477938503)):
            Rectangle(F0_W_4, F0_H_3)
        with Locations((-41.4278266728, -62.477938503)):
            Rectangle(F0_W_4, F0_H_3)
        Polygon((-34.9630750716, -42.477938503), (-33.379150033, -44.477938503), (-33.379150033, -46.477938503), (-33.379150033, -48.477938503), (-31.379150033, -48.477938503), (-31.379150033, -44.477938503), (-34.9630750716, -40.477938503), (-47.4065802991, -40.477938503), (-47.4065802991, -42.477938503), (-45.951873064, -42.477938503), (-41.951873064, -42.477938503), (-37.951873064, -42.477938503), align=None)
        Polygon((-33.379150033, -64.477938503), (-34.9630750716, -64.477938503), (-47.892578274, -64.477938503), (-49.892578274, -64.477938503), (-49.892578274, -66.477938503), (-33.379150033, -66.477938503), align=None)
        Polygon((-33.379150033, -46.477938503), (-33.379150033, -44.477938503), (-37.951873064, -44.477938503), (-41.951873064, -44.477938503), (-45.951873064, -44.477938503), (-49.892578274, -44.477938503), (-49.892578274, -46.477938503), (-47.892578274, -46.477938503), (-34.9630750716, -46.477938503), align=None)
        with Locations((-39.951873064, -43.477938503)):
            Rectangle(F0_W_5, F0_H_4)
        with Locations((-43.951873064, -43.477938503)):
            Rectangle(F0_W_5, F0_H_4)
        Polygon((-37.951873064, -44.477938503), (-33.379150033, -44.477938503), (-34.9630750716, -42.477938503), (-37.951873064, -42.477938503), align=None)
    extrude(amount=F1_DEPTH)


solid = f1.part
